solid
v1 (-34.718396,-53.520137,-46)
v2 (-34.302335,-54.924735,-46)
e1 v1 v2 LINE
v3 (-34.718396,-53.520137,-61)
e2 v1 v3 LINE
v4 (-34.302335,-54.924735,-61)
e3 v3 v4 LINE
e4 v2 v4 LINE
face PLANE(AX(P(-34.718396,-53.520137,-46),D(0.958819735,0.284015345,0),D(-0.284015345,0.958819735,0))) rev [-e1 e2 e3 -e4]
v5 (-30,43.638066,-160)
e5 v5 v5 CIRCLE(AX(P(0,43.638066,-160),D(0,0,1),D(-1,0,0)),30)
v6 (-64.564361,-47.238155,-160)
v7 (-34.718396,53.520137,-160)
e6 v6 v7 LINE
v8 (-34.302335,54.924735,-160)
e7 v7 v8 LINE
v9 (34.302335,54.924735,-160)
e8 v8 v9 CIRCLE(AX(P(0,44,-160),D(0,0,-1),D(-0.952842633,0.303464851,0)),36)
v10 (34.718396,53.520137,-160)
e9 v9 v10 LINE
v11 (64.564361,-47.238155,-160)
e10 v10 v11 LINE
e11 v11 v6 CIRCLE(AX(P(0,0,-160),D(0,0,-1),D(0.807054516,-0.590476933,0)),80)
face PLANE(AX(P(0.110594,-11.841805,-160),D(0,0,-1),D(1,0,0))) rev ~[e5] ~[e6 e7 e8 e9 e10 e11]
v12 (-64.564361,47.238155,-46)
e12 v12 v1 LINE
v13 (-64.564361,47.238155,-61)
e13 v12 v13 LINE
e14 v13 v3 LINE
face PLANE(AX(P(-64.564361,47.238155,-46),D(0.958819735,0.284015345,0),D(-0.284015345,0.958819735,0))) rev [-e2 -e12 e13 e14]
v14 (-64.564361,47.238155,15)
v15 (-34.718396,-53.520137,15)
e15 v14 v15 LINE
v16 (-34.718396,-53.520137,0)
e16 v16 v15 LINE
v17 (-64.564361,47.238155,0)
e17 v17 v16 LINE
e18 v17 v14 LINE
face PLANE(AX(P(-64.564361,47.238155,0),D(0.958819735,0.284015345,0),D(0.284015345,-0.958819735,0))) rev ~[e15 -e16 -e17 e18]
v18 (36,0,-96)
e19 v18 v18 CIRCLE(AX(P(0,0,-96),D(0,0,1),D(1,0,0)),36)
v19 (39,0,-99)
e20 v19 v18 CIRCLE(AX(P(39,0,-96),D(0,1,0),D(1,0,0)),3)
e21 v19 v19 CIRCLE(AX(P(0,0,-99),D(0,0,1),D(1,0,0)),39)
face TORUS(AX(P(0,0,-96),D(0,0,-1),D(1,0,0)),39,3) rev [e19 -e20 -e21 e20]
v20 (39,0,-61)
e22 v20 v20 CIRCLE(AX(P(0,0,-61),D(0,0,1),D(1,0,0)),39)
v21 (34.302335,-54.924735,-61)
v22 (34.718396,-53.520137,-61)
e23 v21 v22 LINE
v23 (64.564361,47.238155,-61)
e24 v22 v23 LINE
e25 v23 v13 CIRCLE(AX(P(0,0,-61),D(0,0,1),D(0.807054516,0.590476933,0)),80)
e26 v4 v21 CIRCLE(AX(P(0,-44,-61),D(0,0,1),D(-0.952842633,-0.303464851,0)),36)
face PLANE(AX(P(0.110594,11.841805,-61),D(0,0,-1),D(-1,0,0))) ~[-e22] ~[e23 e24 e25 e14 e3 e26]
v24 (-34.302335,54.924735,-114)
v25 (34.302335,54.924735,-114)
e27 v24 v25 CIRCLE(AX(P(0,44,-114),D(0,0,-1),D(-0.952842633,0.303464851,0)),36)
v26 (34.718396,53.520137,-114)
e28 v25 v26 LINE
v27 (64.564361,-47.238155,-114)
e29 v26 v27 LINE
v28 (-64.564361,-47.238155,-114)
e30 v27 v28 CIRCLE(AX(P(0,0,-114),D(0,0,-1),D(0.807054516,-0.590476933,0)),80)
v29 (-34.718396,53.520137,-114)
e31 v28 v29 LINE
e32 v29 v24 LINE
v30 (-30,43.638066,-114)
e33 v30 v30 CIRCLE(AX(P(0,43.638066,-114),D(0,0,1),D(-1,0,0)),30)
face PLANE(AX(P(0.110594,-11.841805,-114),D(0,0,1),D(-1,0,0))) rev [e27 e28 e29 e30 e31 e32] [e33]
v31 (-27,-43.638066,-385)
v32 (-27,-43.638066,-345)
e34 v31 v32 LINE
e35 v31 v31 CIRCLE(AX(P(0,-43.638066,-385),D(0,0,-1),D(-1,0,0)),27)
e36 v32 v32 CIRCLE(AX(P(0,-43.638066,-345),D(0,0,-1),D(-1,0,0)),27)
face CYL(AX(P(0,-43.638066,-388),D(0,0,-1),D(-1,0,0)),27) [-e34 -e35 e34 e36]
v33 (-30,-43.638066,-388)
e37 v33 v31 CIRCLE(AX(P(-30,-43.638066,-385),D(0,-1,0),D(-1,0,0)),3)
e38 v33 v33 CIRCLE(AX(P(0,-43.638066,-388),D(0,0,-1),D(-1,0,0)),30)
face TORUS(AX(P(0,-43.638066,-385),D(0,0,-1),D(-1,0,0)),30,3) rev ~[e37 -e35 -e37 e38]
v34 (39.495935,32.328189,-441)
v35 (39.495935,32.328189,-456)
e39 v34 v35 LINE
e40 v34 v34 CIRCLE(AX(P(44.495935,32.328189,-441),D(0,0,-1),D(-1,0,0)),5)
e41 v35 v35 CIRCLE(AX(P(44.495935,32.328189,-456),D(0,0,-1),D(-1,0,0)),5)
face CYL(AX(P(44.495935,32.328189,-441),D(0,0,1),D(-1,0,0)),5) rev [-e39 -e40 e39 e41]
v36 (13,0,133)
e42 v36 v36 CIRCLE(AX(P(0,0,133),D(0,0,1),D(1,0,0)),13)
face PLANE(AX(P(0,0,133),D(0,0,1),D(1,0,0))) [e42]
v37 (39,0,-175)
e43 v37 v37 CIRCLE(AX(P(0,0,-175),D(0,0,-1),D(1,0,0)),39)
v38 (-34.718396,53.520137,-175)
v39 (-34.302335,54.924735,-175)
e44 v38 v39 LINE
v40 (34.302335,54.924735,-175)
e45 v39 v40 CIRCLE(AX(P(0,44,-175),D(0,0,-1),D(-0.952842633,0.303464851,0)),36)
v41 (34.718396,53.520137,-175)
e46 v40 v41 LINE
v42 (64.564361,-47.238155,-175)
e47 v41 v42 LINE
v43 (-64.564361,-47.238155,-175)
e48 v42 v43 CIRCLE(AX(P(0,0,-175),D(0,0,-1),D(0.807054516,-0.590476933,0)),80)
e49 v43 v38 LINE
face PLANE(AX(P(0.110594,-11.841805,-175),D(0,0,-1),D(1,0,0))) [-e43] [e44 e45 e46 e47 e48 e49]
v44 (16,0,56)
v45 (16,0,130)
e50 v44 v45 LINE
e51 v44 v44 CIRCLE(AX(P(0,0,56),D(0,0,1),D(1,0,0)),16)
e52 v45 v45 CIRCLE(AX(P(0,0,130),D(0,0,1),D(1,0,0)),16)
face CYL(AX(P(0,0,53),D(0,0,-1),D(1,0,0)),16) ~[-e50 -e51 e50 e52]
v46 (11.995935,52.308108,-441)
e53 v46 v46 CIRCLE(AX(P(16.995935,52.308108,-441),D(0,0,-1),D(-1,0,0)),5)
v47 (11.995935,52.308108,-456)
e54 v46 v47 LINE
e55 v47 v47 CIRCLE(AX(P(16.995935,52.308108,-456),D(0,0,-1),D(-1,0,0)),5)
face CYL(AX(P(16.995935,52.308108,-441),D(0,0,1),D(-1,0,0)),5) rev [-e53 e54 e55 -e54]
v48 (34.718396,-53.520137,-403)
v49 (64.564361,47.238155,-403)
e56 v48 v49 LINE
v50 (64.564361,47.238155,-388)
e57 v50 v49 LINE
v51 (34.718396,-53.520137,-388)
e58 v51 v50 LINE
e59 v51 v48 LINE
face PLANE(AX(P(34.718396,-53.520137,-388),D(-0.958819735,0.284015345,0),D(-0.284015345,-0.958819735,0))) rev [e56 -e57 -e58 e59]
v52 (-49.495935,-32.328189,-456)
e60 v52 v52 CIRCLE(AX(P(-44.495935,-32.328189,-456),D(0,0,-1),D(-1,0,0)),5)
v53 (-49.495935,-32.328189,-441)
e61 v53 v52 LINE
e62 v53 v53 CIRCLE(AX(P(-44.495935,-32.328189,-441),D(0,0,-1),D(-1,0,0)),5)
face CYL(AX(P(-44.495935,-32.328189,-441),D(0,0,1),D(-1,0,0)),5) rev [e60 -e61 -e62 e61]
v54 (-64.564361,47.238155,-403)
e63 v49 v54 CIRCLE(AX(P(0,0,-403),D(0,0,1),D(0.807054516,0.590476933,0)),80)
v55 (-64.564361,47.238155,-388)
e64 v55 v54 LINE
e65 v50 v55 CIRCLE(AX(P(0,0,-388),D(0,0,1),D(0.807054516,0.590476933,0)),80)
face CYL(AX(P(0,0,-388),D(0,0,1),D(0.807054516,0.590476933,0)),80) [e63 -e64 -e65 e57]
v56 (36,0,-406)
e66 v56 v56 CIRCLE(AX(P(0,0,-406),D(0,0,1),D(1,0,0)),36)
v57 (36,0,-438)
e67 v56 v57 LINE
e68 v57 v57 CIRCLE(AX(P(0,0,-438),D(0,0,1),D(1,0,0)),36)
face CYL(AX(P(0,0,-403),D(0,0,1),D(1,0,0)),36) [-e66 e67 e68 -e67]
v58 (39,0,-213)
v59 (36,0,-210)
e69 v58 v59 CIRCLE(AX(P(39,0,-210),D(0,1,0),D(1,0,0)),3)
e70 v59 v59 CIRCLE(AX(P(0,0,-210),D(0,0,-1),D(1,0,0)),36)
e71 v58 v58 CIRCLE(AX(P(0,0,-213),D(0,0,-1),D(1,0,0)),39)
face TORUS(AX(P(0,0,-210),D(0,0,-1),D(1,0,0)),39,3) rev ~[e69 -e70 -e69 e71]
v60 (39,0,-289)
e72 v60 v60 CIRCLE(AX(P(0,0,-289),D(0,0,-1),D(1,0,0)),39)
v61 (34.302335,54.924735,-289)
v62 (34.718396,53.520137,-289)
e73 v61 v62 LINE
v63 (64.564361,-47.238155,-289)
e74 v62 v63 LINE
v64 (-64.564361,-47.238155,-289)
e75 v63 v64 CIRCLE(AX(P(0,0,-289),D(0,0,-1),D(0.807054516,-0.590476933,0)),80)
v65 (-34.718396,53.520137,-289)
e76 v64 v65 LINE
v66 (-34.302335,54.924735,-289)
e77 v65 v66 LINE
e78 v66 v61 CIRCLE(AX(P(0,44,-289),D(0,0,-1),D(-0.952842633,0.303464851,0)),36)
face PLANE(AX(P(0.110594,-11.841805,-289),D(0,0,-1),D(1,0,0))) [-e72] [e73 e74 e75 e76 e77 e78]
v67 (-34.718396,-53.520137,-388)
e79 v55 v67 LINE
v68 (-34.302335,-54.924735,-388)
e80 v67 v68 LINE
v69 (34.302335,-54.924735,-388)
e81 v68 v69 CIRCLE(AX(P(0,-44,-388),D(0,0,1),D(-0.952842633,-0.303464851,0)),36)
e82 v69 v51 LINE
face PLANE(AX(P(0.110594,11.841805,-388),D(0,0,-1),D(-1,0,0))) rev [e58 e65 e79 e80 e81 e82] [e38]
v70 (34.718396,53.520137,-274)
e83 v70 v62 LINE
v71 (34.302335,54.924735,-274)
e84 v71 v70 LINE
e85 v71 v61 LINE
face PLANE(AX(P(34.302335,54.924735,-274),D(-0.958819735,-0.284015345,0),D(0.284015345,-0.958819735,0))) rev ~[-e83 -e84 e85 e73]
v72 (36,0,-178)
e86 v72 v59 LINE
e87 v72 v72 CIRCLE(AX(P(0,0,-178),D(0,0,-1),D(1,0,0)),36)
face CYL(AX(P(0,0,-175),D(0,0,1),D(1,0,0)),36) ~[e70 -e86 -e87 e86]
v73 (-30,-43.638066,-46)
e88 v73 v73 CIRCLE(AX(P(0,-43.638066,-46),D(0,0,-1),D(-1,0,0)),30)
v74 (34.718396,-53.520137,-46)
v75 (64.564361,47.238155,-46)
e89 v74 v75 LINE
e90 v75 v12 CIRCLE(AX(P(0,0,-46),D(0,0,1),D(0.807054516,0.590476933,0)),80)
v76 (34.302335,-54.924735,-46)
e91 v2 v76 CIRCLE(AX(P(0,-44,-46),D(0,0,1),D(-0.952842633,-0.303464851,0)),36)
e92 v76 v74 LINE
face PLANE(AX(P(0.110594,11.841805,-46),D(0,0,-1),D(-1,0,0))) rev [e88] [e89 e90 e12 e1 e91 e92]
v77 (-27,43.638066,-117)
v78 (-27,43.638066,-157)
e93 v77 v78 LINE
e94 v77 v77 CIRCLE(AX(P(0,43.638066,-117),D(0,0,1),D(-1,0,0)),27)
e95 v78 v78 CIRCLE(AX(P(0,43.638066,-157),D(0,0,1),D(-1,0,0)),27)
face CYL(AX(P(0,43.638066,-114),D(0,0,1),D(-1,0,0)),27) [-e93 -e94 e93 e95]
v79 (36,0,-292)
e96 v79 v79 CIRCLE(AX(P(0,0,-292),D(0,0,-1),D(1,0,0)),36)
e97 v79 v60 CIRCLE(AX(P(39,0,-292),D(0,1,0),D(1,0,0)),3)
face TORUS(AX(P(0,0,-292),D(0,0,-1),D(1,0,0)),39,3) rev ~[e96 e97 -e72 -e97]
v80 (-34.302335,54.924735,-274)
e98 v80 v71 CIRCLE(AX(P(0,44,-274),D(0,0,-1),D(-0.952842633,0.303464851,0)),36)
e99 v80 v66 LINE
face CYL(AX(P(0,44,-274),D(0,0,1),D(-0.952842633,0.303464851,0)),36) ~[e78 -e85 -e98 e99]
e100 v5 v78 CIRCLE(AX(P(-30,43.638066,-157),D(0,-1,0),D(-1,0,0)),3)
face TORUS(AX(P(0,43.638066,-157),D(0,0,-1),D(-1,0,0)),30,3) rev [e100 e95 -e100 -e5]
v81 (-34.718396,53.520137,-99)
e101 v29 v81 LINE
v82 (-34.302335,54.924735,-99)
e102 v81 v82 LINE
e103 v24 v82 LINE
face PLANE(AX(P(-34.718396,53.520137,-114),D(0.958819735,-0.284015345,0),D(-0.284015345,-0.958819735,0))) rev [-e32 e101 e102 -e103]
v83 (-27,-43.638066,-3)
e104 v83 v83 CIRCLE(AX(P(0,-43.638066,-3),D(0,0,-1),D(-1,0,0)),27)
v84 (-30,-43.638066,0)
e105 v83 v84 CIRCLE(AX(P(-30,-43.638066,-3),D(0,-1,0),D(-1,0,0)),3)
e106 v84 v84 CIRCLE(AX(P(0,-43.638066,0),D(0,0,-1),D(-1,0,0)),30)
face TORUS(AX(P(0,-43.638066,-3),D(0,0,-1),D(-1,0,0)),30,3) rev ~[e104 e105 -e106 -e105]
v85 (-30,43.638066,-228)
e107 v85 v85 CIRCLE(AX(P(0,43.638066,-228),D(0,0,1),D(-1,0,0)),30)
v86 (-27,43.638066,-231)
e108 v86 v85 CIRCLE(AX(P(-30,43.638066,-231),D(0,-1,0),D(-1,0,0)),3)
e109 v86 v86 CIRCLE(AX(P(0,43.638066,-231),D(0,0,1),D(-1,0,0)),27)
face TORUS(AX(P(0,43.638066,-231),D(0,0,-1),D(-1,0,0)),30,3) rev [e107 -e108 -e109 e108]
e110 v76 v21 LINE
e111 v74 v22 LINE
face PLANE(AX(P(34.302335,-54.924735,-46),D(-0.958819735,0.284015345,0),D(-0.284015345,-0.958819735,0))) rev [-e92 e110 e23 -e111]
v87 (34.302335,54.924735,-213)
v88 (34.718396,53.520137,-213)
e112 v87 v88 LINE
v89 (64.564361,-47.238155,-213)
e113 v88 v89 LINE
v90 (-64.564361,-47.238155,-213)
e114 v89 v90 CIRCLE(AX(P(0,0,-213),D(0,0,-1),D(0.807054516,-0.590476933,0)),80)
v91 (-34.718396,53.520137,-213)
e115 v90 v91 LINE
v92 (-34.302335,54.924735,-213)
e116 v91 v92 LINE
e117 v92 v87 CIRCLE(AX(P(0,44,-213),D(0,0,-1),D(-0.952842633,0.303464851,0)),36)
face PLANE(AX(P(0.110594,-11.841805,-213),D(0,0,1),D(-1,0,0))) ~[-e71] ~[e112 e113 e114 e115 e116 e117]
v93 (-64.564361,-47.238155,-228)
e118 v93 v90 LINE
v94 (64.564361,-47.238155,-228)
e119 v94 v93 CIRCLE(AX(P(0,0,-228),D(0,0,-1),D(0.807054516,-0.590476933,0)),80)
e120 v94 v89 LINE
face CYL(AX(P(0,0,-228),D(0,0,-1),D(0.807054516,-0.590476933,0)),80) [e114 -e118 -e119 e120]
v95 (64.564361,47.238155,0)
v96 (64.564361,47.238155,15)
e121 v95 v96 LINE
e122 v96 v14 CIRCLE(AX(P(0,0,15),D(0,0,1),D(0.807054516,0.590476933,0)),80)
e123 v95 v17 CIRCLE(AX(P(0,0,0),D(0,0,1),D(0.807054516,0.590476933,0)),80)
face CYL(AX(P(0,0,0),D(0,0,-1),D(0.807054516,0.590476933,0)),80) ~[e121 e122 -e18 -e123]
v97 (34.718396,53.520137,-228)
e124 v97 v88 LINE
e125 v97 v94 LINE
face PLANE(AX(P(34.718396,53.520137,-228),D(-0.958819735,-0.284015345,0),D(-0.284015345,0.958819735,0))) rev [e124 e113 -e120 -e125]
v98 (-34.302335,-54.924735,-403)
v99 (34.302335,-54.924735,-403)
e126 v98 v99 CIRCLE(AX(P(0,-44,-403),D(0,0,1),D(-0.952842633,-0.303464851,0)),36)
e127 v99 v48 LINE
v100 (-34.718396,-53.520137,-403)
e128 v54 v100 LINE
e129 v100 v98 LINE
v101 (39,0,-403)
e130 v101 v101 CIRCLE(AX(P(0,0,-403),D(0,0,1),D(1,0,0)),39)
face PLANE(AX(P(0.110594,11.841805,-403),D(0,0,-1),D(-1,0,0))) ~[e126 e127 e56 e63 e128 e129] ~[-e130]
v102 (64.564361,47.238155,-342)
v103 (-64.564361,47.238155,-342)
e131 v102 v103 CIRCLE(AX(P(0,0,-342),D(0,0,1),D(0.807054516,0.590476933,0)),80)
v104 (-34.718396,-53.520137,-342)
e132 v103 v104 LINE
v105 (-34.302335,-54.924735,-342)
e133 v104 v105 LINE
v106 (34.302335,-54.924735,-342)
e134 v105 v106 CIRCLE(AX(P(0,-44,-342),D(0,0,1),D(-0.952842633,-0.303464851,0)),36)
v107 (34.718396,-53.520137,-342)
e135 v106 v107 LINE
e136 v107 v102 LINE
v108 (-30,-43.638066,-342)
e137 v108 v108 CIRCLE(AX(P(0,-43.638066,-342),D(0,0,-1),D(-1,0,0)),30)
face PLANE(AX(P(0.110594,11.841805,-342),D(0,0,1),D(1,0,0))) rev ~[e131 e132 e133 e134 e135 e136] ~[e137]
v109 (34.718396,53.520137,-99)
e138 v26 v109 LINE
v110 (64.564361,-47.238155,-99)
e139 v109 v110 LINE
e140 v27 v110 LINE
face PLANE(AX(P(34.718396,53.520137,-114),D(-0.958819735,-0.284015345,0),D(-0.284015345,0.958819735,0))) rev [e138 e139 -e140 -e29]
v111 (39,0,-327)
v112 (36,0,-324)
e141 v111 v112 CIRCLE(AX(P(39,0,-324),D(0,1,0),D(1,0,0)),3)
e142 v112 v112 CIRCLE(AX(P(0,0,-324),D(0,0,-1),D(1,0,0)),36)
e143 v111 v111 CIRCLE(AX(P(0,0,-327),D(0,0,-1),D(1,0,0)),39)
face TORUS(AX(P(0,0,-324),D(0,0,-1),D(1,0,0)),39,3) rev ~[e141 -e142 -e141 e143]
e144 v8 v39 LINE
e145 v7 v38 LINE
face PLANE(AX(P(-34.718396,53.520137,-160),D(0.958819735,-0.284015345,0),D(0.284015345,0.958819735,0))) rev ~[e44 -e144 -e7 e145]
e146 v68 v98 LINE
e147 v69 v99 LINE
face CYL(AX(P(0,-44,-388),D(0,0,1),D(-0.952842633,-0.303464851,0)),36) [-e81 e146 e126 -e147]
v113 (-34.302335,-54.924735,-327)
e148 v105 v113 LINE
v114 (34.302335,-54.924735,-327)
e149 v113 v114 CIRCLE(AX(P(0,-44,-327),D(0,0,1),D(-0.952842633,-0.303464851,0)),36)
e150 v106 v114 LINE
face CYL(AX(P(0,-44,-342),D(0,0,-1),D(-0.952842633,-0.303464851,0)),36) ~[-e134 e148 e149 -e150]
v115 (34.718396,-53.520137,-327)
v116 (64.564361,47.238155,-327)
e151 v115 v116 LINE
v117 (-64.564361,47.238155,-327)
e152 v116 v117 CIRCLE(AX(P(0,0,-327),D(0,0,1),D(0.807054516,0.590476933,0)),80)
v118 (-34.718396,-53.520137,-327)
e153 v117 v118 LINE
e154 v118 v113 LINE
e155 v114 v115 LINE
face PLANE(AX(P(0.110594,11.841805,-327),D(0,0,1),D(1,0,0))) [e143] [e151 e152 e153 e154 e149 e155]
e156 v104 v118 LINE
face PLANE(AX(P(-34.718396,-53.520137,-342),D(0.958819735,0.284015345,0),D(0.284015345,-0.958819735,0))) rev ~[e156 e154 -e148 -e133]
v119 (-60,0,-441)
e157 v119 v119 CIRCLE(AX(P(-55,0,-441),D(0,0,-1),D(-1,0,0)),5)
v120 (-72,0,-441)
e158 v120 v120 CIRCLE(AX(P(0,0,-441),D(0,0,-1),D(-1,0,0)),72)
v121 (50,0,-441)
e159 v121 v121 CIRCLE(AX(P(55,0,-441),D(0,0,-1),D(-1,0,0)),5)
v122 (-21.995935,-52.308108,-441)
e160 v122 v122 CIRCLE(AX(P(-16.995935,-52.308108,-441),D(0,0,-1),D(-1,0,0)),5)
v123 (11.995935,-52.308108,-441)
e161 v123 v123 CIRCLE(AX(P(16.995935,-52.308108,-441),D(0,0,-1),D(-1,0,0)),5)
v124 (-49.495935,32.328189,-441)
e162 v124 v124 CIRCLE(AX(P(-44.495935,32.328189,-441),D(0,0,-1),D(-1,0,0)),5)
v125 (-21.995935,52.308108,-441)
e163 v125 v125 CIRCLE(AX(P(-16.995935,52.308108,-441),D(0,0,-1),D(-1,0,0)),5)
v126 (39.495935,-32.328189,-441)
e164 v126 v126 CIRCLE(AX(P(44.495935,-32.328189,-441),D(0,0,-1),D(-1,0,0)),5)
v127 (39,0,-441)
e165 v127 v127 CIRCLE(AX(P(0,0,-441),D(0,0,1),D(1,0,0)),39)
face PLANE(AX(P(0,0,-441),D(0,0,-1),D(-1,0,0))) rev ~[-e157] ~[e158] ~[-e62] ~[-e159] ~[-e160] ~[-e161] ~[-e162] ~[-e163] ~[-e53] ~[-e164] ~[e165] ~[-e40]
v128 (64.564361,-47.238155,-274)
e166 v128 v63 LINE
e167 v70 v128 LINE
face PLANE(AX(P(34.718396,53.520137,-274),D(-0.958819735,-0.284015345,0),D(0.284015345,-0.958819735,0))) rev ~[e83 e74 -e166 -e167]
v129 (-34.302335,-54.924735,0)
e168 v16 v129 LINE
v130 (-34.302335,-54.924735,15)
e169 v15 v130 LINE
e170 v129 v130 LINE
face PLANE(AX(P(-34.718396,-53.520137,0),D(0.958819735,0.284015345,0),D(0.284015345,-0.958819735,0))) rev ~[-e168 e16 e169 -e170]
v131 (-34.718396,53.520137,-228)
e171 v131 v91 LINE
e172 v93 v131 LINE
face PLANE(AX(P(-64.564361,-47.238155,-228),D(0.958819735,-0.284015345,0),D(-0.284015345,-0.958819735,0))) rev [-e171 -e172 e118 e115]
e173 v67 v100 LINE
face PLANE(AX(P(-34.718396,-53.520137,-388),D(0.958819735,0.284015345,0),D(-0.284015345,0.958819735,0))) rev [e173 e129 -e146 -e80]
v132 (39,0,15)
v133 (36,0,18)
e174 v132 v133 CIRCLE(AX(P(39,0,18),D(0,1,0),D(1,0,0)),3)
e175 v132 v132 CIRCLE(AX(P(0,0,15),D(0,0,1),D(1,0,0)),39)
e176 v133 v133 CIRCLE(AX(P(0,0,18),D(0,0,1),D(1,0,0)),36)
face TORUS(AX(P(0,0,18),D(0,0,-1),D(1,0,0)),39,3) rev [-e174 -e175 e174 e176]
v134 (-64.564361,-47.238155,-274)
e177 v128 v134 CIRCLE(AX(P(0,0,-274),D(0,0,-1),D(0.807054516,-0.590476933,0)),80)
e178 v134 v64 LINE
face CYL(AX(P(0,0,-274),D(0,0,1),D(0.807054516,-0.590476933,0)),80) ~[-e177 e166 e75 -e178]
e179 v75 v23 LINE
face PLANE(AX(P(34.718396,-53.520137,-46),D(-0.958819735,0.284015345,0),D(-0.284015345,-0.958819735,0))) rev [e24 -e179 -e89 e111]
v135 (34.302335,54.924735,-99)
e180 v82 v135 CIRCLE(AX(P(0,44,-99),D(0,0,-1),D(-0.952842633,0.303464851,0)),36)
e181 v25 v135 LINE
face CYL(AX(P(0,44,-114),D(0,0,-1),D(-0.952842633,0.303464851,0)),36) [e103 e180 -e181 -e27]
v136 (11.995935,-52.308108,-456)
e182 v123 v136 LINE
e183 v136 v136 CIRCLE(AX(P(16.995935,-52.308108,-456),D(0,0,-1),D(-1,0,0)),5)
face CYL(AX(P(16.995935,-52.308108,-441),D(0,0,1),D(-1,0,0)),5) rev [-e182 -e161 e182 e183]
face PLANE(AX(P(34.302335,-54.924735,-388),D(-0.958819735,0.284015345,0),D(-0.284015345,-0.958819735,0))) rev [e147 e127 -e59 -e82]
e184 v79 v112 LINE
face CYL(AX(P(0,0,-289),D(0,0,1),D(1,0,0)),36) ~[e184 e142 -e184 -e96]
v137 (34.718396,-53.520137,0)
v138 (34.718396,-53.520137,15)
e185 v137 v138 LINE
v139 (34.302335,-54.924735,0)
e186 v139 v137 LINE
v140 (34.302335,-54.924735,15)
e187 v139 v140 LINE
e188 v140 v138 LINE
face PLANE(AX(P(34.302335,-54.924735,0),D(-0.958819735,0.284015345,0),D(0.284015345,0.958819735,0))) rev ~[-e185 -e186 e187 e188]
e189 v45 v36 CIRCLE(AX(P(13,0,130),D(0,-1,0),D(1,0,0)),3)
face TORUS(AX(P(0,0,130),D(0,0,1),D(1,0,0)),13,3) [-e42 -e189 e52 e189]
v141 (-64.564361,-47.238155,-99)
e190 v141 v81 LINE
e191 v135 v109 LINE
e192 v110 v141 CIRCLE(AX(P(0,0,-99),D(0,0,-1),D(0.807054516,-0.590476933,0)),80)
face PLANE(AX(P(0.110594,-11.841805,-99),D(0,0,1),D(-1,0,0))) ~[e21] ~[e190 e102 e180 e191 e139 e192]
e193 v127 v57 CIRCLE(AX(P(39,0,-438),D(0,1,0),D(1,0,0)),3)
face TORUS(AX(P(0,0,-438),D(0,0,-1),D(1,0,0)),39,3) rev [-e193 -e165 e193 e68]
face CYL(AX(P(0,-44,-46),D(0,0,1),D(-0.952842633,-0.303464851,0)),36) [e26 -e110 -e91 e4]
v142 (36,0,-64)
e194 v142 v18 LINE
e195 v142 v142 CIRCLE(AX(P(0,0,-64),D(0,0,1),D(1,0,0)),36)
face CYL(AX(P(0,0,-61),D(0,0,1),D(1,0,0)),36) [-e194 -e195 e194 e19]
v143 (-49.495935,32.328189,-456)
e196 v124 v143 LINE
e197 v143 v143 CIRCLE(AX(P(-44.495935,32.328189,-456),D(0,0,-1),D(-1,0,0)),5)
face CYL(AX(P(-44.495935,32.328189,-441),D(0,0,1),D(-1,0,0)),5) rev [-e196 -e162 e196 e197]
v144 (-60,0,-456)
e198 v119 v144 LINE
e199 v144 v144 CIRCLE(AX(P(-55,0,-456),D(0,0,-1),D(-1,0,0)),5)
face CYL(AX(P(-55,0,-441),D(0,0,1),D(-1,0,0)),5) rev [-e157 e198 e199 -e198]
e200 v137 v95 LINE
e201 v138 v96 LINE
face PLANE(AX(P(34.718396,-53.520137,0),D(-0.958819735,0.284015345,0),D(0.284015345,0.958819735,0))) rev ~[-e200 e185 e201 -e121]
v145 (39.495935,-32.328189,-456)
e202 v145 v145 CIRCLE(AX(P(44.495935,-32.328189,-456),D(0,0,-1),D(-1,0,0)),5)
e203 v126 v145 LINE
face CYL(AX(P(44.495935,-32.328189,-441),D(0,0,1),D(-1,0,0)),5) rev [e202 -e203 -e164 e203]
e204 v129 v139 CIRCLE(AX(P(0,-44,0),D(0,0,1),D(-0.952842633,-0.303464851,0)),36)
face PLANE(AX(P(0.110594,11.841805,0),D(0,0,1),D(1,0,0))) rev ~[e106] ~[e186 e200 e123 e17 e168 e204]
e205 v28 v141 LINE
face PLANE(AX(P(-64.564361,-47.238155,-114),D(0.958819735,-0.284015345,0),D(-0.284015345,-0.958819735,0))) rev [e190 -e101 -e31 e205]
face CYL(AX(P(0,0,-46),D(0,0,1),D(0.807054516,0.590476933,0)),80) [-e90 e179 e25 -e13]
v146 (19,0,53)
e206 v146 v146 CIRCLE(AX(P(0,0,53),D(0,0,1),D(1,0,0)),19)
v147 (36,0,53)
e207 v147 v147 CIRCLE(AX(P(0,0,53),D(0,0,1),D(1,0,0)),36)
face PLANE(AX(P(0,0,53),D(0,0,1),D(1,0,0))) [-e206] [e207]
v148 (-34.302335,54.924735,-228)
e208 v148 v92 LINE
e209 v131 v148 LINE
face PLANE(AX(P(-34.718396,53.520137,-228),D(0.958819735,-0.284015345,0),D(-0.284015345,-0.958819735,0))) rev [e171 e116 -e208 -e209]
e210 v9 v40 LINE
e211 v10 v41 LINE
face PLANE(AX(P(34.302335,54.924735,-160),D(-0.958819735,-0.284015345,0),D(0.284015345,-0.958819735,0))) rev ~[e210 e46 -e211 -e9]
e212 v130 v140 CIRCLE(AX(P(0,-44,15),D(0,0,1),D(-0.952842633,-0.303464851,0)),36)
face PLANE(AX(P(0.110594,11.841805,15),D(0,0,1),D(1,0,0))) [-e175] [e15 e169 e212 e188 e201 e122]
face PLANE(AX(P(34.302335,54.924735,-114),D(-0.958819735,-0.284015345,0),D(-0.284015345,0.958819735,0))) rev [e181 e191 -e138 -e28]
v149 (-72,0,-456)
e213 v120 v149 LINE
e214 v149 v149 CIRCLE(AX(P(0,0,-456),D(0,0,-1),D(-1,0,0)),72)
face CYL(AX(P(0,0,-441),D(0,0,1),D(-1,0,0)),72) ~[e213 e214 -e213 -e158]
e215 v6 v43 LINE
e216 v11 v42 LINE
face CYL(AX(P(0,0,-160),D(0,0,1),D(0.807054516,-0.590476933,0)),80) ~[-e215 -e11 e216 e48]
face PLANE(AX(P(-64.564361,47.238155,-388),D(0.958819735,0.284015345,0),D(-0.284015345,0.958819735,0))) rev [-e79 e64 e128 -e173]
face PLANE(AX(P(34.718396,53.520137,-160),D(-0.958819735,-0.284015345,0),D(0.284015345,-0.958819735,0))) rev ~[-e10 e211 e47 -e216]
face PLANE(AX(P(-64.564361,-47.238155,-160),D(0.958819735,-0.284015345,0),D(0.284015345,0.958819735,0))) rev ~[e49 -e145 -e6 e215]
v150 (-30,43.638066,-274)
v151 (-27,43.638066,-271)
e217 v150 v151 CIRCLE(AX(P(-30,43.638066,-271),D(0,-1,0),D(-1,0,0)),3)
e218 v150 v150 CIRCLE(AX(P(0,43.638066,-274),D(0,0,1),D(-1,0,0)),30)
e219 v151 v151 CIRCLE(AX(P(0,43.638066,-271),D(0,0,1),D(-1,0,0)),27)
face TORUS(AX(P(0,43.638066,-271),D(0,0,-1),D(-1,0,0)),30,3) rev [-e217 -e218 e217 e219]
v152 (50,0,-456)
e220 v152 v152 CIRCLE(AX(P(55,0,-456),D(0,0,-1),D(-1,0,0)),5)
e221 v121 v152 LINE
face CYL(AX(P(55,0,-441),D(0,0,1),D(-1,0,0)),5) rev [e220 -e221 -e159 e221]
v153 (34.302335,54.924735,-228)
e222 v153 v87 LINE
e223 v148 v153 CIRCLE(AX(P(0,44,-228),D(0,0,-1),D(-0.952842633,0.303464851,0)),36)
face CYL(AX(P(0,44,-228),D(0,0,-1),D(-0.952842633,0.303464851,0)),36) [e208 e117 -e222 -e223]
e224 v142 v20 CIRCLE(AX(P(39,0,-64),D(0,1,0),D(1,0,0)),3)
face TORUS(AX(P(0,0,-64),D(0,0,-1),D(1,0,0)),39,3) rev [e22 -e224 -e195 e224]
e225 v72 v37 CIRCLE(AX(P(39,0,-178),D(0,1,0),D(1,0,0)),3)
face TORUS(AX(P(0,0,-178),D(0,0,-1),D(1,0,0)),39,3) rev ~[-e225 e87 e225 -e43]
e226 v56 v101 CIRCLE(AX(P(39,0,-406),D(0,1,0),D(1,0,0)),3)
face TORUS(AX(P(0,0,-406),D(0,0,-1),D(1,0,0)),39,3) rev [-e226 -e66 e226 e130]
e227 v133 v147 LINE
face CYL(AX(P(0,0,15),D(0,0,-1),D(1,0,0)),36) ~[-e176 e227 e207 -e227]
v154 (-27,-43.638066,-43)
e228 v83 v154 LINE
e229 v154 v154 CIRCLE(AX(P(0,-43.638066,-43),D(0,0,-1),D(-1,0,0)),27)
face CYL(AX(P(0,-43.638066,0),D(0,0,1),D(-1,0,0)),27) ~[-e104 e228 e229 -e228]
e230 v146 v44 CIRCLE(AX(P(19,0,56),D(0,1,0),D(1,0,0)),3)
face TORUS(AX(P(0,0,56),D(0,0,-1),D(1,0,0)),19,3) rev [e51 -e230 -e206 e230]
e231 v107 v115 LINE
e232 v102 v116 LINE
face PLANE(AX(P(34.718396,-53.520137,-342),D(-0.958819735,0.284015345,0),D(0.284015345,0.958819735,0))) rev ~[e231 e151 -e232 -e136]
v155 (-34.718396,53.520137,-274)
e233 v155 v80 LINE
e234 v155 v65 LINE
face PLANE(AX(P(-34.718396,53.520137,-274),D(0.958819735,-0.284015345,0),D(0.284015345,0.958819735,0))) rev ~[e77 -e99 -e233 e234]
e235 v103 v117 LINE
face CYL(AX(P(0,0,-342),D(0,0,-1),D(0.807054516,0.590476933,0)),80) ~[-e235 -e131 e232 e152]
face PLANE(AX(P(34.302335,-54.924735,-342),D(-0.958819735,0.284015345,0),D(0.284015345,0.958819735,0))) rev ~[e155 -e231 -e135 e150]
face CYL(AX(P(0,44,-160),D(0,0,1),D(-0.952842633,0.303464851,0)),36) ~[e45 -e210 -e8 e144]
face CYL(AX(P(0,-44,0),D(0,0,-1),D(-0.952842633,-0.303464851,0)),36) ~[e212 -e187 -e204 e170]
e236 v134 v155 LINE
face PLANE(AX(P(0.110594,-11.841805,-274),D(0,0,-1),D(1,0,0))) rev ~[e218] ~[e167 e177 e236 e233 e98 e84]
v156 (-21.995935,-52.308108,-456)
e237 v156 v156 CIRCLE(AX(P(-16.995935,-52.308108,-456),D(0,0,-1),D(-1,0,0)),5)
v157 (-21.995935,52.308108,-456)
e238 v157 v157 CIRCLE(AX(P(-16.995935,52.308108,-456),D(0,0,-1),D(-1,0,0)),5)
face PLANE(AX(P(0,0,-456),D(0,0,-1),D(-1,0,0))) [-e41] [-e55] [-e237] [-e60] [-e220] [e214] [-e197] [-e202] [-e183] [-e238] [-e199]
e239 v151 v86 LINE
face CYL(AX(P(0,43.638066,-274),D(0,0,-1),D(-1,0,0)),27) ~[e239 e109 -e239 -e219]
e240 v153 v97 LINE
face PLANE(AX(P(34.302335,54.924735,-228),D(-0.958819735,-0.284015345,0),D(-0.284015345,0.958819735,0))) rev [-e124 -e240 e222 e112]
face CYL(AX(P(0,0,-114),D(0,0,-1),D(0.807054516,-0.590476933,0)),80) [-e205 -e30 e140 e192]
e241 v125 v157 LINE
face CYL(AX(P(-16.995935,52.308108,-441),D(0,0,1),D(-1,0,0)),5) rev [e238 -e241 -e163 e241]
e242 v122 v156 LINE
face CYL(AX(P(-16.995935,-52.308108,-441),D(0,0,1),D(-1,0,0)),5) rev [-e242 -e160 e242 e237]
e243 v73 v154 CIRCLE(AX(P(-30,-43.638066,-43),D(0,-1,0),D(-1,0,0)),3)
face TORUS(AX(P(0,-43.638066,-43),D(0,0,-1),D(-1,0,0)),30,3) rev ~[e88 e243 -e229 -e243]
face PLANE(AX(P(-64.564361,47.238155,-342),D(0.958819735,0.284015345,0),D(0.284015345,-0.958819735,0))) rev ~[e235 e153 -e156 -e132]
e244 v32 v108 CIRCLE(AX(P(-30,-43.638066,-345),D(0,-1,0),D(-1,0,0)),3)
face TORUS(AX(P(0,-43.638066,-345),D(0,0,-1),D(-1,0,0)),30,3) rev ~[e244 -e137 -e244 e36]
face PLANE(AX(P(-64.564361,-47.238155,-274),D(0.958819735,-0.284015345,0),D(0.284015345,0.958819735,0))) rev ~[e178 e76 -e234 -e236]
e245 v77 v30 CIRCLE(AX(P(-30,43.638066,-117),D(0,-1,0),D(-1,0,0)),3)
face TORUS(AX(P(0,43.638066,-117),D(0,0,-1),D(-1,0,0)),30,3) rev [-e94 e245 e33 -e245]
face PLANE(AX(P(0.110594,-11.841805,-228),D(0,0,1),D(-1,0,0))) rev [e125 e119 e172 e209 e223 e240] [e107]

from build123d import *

# Parameters (mm, degrees)
BOSS_EXTRUDE2_DEPTH   = 15
SKETCH3_R             = 27
BOSS_EXTRUDE3_DEPTH   = 46
SKETCH4_R             = 36
BOSS_EXTRUDE4_DEPTH   = 38
BODY_MOVE_COPY1_ANGLE = 180
SKETCH5_R             = 16
BOSS_EXTRUDE5_DEPTH   = 80
SKETCH6_R             = 72
SKETCH6_R_2           = 5
BOSS_EXTRUDE6_DEPTH   = 15
FILLET1_R             = 3
FILLET2_R             = 3


with BuildPart() as part:
    # Sketch2 → Boss-Extrude2 (new body)
    with BuildSketch(Plane.XY):
        with BuildLine():
            ThreePointArc((64.564361287, 47.238154617), (0, 80), (-64.564361287, 47.238154617))
            Line((-64.564361287, 47.238154617), (-34.718395544, -53.520137124))
            ThreePointArc((-34.718395544, -53.520137124), (-4.803007413, -8.321839736), (36, -44))
            ThreePointArc((36, -44), (35.678160264, -48.803007413), (34.718395544, -53.520137124))
            Line((34.718395544, -53.520137124), (64.564361287, 47.238154617))
        make_face()
        with BuildLine():
            ThreePointArc((36, -44), (-4.803007413, -8.321839736), (-34.718395544, -53.520137124))
            Line((-34.718395544, -53.520137124), (-34.302334805, -54.924734637))
            ThreePointArc((-34.302334805, -54.924734637), (0, -80), (34.302334805, -54.924734637))
            Line((34.302334805, -54.924734637), (34.718395544, -53.520137124))
            ThreePointArc((34.718395544, -53.520137124), (35.678160264, -48.803007413), (36, -44))
        make_face()
    boss_extrude2 = extrude(amount=BOSS_EXTRUDE2_DEPTH)

    # Sketch3 → Boss-Extrude3 (add)
    with BuildSketch(Plane(origin=(0, 0, 0), x_dir=(-1, 0, 0), z_dir=(0, 0, -1))):
        with Locations((0, -43.638066069)):
            Circle(SKETCH3_R)
    boss_extrude3 = extrude(amount=BOSS_EXTRUDE3_DEPTH)

    # Sketch4 → Boss-Extrude4 (add)
    with BuildSketch(Plane.XY.offset(15)):
        Circle(SKETCH4_R)
    boss_extrude4 = extrude(amount=BOSS_EXTRUDE4_DEPTH)

    # Mirror1: Boss-Extrude2, Boss-Extrude3, Boss-Extrude4 across plane
    add(boss_extrude2.mirror(Plane(origin=(0, 0, -23), x_dir=(1, 0, 0), z_dir=(0, 0, -1))))
    add(boss_extrude3.mirror(Plane(origin=(0, 0, -23), x_dir=(1, 0, 0), z_dir=(0, 0, -1))))
    add(boss_extrude4.mirror(Plane(origin=(0, 0, -23), x_dir=(1, 0, 0), z_dir=(0, 0, -1))))


with BuildPart() as body_2:
    # Mirror6: mirrored copy
    add(part.part.mirror(Plane(origin=(0, 0, -80), x_dir=(1, 0, 0), z_dir=(0, 0, -1))))


with BuildPart() as body_2_1:
    # Body-Move_Copy1: moved
    add(body_2.part.rotate(Axis((0, 0, -137), (1, 0, 0)), BODY_MOVE_COPY1_ANGLE))


with BuildPart() as body_3:
    # Mirror9: mirrored copy
    add(part.part.mirror(Plane(origin=(0, 0, -194), x_dir=(1, 0, 0), z_dir=(0, 0, -1))))

    # Sketch6 → Boss-Extrude6 (add)
    with BuildSketch(Plane(origin=(0, 0, -441), x_dir=(-1, 0, 0), z_dir=(0, 0, -1))):
        Circle(SKETCH6_R)
        with Locations((55, 0)):
            Circle(SKETCH6_R_2, mode=Mode.SUBTRACT)
        with Locations((44.495934691, -32.328188876)):
            Circle(SKETCH6_R_2, mode=Mode.SUBTRACT)
        with Locations((16.995934691, -52.308108396)):
            Circle(SKETCH6_R_2, mode=Mode.SUBTRACT)
        with Locations((-16.995934691, -52.308108396)):
            Circle(SKETCH6_R_2, mode=Mode.SUBTRACT)
        with Locations((-44.495934691, -32.328188876)):
            Circle(SKETCH6_R_2, mode=Mode.SUBTRACT)
        with Locations((-55, 0)):
            Circle(SKETCH6_R_2, mode=Mode.SUBTRACT)
        with Locations((-44.495934691, 32.328188876)):
            Circle(SKETCH6_R_2, mode=Mode.SUBTRACT)
        with Locations((-16.995934691, 52.308108396)):
            Circle(SKETCH6_R_2, mode=Mode.SUBTRACT)
        with Locations((16.995934691, 52.308108396)):
            Circle(SKETCH6_R_2, mode=Mode.SUBTRACT)
        with Locations((44.495934691, 32.328188876)):
            Circle(SKETCH6_R_2, mode=Mode.SUBTRACT)
    extrude(amount=BOSS_EXTRUDE6_DEPTH)


with BuildPart() as body_4:
    # Mirror9 2: mirrored copy
    add(body_2_1.part.mirror(Plane(origin=(0, 0, -194), x_dir=(1, 0, 0), z_dir=(0, 0, -1))))


with BuildPart() as part_1:
    add(part.part)

    # Sketch5 → Boss-Extrude5 (add)
    with BuildSketch(Plane.XY.offset(53)):
        Circle(SKETCH5_R)
    extrude(amount=BOSS_EXTRUDE5_DEPTH)

    # Combine1: union body 2, body 4, body 3
    add(body_2_1.part)
    add(body_4.part)
    add(body_3.part)

    # Fillet1
    fillet1_edges = [part_1.edges().sort_by_distance(p)[0] for p in [
        (27, -43.638066069, 0),
        (27, -43.638066069, -46),
        (-36, 0, 15),
        (-36, 0, -61),
        (-16, 0, 53),
        (-36, 0, -99),
        (27, 43.638066069, -114),
        (27, 43.638066069, -160),
        (-36, 0, -175),
        (27, 43.638066069, -274),
        (-36, 0, -289),
        (-36, 0, -213),
        (27, 43.638066069, -228),
        (-36, 0, -403),
        (27, -43.638066069, -388),
        (27, -43.638066069, -342),
        (-36, 0, -441),
        (-36, 0, -327),
    ]]
    fillet(fillet1_edges, radius=FILLET1_R)

    # Fillet2
    fillet2_edges = [part_1.edges().sort_by_distance(p)[0] for p in [
        (-16, 0, 133),
    ]]
    fillet(fillet2_edges, radius=FILLET2_R)


solid = part_1.part
